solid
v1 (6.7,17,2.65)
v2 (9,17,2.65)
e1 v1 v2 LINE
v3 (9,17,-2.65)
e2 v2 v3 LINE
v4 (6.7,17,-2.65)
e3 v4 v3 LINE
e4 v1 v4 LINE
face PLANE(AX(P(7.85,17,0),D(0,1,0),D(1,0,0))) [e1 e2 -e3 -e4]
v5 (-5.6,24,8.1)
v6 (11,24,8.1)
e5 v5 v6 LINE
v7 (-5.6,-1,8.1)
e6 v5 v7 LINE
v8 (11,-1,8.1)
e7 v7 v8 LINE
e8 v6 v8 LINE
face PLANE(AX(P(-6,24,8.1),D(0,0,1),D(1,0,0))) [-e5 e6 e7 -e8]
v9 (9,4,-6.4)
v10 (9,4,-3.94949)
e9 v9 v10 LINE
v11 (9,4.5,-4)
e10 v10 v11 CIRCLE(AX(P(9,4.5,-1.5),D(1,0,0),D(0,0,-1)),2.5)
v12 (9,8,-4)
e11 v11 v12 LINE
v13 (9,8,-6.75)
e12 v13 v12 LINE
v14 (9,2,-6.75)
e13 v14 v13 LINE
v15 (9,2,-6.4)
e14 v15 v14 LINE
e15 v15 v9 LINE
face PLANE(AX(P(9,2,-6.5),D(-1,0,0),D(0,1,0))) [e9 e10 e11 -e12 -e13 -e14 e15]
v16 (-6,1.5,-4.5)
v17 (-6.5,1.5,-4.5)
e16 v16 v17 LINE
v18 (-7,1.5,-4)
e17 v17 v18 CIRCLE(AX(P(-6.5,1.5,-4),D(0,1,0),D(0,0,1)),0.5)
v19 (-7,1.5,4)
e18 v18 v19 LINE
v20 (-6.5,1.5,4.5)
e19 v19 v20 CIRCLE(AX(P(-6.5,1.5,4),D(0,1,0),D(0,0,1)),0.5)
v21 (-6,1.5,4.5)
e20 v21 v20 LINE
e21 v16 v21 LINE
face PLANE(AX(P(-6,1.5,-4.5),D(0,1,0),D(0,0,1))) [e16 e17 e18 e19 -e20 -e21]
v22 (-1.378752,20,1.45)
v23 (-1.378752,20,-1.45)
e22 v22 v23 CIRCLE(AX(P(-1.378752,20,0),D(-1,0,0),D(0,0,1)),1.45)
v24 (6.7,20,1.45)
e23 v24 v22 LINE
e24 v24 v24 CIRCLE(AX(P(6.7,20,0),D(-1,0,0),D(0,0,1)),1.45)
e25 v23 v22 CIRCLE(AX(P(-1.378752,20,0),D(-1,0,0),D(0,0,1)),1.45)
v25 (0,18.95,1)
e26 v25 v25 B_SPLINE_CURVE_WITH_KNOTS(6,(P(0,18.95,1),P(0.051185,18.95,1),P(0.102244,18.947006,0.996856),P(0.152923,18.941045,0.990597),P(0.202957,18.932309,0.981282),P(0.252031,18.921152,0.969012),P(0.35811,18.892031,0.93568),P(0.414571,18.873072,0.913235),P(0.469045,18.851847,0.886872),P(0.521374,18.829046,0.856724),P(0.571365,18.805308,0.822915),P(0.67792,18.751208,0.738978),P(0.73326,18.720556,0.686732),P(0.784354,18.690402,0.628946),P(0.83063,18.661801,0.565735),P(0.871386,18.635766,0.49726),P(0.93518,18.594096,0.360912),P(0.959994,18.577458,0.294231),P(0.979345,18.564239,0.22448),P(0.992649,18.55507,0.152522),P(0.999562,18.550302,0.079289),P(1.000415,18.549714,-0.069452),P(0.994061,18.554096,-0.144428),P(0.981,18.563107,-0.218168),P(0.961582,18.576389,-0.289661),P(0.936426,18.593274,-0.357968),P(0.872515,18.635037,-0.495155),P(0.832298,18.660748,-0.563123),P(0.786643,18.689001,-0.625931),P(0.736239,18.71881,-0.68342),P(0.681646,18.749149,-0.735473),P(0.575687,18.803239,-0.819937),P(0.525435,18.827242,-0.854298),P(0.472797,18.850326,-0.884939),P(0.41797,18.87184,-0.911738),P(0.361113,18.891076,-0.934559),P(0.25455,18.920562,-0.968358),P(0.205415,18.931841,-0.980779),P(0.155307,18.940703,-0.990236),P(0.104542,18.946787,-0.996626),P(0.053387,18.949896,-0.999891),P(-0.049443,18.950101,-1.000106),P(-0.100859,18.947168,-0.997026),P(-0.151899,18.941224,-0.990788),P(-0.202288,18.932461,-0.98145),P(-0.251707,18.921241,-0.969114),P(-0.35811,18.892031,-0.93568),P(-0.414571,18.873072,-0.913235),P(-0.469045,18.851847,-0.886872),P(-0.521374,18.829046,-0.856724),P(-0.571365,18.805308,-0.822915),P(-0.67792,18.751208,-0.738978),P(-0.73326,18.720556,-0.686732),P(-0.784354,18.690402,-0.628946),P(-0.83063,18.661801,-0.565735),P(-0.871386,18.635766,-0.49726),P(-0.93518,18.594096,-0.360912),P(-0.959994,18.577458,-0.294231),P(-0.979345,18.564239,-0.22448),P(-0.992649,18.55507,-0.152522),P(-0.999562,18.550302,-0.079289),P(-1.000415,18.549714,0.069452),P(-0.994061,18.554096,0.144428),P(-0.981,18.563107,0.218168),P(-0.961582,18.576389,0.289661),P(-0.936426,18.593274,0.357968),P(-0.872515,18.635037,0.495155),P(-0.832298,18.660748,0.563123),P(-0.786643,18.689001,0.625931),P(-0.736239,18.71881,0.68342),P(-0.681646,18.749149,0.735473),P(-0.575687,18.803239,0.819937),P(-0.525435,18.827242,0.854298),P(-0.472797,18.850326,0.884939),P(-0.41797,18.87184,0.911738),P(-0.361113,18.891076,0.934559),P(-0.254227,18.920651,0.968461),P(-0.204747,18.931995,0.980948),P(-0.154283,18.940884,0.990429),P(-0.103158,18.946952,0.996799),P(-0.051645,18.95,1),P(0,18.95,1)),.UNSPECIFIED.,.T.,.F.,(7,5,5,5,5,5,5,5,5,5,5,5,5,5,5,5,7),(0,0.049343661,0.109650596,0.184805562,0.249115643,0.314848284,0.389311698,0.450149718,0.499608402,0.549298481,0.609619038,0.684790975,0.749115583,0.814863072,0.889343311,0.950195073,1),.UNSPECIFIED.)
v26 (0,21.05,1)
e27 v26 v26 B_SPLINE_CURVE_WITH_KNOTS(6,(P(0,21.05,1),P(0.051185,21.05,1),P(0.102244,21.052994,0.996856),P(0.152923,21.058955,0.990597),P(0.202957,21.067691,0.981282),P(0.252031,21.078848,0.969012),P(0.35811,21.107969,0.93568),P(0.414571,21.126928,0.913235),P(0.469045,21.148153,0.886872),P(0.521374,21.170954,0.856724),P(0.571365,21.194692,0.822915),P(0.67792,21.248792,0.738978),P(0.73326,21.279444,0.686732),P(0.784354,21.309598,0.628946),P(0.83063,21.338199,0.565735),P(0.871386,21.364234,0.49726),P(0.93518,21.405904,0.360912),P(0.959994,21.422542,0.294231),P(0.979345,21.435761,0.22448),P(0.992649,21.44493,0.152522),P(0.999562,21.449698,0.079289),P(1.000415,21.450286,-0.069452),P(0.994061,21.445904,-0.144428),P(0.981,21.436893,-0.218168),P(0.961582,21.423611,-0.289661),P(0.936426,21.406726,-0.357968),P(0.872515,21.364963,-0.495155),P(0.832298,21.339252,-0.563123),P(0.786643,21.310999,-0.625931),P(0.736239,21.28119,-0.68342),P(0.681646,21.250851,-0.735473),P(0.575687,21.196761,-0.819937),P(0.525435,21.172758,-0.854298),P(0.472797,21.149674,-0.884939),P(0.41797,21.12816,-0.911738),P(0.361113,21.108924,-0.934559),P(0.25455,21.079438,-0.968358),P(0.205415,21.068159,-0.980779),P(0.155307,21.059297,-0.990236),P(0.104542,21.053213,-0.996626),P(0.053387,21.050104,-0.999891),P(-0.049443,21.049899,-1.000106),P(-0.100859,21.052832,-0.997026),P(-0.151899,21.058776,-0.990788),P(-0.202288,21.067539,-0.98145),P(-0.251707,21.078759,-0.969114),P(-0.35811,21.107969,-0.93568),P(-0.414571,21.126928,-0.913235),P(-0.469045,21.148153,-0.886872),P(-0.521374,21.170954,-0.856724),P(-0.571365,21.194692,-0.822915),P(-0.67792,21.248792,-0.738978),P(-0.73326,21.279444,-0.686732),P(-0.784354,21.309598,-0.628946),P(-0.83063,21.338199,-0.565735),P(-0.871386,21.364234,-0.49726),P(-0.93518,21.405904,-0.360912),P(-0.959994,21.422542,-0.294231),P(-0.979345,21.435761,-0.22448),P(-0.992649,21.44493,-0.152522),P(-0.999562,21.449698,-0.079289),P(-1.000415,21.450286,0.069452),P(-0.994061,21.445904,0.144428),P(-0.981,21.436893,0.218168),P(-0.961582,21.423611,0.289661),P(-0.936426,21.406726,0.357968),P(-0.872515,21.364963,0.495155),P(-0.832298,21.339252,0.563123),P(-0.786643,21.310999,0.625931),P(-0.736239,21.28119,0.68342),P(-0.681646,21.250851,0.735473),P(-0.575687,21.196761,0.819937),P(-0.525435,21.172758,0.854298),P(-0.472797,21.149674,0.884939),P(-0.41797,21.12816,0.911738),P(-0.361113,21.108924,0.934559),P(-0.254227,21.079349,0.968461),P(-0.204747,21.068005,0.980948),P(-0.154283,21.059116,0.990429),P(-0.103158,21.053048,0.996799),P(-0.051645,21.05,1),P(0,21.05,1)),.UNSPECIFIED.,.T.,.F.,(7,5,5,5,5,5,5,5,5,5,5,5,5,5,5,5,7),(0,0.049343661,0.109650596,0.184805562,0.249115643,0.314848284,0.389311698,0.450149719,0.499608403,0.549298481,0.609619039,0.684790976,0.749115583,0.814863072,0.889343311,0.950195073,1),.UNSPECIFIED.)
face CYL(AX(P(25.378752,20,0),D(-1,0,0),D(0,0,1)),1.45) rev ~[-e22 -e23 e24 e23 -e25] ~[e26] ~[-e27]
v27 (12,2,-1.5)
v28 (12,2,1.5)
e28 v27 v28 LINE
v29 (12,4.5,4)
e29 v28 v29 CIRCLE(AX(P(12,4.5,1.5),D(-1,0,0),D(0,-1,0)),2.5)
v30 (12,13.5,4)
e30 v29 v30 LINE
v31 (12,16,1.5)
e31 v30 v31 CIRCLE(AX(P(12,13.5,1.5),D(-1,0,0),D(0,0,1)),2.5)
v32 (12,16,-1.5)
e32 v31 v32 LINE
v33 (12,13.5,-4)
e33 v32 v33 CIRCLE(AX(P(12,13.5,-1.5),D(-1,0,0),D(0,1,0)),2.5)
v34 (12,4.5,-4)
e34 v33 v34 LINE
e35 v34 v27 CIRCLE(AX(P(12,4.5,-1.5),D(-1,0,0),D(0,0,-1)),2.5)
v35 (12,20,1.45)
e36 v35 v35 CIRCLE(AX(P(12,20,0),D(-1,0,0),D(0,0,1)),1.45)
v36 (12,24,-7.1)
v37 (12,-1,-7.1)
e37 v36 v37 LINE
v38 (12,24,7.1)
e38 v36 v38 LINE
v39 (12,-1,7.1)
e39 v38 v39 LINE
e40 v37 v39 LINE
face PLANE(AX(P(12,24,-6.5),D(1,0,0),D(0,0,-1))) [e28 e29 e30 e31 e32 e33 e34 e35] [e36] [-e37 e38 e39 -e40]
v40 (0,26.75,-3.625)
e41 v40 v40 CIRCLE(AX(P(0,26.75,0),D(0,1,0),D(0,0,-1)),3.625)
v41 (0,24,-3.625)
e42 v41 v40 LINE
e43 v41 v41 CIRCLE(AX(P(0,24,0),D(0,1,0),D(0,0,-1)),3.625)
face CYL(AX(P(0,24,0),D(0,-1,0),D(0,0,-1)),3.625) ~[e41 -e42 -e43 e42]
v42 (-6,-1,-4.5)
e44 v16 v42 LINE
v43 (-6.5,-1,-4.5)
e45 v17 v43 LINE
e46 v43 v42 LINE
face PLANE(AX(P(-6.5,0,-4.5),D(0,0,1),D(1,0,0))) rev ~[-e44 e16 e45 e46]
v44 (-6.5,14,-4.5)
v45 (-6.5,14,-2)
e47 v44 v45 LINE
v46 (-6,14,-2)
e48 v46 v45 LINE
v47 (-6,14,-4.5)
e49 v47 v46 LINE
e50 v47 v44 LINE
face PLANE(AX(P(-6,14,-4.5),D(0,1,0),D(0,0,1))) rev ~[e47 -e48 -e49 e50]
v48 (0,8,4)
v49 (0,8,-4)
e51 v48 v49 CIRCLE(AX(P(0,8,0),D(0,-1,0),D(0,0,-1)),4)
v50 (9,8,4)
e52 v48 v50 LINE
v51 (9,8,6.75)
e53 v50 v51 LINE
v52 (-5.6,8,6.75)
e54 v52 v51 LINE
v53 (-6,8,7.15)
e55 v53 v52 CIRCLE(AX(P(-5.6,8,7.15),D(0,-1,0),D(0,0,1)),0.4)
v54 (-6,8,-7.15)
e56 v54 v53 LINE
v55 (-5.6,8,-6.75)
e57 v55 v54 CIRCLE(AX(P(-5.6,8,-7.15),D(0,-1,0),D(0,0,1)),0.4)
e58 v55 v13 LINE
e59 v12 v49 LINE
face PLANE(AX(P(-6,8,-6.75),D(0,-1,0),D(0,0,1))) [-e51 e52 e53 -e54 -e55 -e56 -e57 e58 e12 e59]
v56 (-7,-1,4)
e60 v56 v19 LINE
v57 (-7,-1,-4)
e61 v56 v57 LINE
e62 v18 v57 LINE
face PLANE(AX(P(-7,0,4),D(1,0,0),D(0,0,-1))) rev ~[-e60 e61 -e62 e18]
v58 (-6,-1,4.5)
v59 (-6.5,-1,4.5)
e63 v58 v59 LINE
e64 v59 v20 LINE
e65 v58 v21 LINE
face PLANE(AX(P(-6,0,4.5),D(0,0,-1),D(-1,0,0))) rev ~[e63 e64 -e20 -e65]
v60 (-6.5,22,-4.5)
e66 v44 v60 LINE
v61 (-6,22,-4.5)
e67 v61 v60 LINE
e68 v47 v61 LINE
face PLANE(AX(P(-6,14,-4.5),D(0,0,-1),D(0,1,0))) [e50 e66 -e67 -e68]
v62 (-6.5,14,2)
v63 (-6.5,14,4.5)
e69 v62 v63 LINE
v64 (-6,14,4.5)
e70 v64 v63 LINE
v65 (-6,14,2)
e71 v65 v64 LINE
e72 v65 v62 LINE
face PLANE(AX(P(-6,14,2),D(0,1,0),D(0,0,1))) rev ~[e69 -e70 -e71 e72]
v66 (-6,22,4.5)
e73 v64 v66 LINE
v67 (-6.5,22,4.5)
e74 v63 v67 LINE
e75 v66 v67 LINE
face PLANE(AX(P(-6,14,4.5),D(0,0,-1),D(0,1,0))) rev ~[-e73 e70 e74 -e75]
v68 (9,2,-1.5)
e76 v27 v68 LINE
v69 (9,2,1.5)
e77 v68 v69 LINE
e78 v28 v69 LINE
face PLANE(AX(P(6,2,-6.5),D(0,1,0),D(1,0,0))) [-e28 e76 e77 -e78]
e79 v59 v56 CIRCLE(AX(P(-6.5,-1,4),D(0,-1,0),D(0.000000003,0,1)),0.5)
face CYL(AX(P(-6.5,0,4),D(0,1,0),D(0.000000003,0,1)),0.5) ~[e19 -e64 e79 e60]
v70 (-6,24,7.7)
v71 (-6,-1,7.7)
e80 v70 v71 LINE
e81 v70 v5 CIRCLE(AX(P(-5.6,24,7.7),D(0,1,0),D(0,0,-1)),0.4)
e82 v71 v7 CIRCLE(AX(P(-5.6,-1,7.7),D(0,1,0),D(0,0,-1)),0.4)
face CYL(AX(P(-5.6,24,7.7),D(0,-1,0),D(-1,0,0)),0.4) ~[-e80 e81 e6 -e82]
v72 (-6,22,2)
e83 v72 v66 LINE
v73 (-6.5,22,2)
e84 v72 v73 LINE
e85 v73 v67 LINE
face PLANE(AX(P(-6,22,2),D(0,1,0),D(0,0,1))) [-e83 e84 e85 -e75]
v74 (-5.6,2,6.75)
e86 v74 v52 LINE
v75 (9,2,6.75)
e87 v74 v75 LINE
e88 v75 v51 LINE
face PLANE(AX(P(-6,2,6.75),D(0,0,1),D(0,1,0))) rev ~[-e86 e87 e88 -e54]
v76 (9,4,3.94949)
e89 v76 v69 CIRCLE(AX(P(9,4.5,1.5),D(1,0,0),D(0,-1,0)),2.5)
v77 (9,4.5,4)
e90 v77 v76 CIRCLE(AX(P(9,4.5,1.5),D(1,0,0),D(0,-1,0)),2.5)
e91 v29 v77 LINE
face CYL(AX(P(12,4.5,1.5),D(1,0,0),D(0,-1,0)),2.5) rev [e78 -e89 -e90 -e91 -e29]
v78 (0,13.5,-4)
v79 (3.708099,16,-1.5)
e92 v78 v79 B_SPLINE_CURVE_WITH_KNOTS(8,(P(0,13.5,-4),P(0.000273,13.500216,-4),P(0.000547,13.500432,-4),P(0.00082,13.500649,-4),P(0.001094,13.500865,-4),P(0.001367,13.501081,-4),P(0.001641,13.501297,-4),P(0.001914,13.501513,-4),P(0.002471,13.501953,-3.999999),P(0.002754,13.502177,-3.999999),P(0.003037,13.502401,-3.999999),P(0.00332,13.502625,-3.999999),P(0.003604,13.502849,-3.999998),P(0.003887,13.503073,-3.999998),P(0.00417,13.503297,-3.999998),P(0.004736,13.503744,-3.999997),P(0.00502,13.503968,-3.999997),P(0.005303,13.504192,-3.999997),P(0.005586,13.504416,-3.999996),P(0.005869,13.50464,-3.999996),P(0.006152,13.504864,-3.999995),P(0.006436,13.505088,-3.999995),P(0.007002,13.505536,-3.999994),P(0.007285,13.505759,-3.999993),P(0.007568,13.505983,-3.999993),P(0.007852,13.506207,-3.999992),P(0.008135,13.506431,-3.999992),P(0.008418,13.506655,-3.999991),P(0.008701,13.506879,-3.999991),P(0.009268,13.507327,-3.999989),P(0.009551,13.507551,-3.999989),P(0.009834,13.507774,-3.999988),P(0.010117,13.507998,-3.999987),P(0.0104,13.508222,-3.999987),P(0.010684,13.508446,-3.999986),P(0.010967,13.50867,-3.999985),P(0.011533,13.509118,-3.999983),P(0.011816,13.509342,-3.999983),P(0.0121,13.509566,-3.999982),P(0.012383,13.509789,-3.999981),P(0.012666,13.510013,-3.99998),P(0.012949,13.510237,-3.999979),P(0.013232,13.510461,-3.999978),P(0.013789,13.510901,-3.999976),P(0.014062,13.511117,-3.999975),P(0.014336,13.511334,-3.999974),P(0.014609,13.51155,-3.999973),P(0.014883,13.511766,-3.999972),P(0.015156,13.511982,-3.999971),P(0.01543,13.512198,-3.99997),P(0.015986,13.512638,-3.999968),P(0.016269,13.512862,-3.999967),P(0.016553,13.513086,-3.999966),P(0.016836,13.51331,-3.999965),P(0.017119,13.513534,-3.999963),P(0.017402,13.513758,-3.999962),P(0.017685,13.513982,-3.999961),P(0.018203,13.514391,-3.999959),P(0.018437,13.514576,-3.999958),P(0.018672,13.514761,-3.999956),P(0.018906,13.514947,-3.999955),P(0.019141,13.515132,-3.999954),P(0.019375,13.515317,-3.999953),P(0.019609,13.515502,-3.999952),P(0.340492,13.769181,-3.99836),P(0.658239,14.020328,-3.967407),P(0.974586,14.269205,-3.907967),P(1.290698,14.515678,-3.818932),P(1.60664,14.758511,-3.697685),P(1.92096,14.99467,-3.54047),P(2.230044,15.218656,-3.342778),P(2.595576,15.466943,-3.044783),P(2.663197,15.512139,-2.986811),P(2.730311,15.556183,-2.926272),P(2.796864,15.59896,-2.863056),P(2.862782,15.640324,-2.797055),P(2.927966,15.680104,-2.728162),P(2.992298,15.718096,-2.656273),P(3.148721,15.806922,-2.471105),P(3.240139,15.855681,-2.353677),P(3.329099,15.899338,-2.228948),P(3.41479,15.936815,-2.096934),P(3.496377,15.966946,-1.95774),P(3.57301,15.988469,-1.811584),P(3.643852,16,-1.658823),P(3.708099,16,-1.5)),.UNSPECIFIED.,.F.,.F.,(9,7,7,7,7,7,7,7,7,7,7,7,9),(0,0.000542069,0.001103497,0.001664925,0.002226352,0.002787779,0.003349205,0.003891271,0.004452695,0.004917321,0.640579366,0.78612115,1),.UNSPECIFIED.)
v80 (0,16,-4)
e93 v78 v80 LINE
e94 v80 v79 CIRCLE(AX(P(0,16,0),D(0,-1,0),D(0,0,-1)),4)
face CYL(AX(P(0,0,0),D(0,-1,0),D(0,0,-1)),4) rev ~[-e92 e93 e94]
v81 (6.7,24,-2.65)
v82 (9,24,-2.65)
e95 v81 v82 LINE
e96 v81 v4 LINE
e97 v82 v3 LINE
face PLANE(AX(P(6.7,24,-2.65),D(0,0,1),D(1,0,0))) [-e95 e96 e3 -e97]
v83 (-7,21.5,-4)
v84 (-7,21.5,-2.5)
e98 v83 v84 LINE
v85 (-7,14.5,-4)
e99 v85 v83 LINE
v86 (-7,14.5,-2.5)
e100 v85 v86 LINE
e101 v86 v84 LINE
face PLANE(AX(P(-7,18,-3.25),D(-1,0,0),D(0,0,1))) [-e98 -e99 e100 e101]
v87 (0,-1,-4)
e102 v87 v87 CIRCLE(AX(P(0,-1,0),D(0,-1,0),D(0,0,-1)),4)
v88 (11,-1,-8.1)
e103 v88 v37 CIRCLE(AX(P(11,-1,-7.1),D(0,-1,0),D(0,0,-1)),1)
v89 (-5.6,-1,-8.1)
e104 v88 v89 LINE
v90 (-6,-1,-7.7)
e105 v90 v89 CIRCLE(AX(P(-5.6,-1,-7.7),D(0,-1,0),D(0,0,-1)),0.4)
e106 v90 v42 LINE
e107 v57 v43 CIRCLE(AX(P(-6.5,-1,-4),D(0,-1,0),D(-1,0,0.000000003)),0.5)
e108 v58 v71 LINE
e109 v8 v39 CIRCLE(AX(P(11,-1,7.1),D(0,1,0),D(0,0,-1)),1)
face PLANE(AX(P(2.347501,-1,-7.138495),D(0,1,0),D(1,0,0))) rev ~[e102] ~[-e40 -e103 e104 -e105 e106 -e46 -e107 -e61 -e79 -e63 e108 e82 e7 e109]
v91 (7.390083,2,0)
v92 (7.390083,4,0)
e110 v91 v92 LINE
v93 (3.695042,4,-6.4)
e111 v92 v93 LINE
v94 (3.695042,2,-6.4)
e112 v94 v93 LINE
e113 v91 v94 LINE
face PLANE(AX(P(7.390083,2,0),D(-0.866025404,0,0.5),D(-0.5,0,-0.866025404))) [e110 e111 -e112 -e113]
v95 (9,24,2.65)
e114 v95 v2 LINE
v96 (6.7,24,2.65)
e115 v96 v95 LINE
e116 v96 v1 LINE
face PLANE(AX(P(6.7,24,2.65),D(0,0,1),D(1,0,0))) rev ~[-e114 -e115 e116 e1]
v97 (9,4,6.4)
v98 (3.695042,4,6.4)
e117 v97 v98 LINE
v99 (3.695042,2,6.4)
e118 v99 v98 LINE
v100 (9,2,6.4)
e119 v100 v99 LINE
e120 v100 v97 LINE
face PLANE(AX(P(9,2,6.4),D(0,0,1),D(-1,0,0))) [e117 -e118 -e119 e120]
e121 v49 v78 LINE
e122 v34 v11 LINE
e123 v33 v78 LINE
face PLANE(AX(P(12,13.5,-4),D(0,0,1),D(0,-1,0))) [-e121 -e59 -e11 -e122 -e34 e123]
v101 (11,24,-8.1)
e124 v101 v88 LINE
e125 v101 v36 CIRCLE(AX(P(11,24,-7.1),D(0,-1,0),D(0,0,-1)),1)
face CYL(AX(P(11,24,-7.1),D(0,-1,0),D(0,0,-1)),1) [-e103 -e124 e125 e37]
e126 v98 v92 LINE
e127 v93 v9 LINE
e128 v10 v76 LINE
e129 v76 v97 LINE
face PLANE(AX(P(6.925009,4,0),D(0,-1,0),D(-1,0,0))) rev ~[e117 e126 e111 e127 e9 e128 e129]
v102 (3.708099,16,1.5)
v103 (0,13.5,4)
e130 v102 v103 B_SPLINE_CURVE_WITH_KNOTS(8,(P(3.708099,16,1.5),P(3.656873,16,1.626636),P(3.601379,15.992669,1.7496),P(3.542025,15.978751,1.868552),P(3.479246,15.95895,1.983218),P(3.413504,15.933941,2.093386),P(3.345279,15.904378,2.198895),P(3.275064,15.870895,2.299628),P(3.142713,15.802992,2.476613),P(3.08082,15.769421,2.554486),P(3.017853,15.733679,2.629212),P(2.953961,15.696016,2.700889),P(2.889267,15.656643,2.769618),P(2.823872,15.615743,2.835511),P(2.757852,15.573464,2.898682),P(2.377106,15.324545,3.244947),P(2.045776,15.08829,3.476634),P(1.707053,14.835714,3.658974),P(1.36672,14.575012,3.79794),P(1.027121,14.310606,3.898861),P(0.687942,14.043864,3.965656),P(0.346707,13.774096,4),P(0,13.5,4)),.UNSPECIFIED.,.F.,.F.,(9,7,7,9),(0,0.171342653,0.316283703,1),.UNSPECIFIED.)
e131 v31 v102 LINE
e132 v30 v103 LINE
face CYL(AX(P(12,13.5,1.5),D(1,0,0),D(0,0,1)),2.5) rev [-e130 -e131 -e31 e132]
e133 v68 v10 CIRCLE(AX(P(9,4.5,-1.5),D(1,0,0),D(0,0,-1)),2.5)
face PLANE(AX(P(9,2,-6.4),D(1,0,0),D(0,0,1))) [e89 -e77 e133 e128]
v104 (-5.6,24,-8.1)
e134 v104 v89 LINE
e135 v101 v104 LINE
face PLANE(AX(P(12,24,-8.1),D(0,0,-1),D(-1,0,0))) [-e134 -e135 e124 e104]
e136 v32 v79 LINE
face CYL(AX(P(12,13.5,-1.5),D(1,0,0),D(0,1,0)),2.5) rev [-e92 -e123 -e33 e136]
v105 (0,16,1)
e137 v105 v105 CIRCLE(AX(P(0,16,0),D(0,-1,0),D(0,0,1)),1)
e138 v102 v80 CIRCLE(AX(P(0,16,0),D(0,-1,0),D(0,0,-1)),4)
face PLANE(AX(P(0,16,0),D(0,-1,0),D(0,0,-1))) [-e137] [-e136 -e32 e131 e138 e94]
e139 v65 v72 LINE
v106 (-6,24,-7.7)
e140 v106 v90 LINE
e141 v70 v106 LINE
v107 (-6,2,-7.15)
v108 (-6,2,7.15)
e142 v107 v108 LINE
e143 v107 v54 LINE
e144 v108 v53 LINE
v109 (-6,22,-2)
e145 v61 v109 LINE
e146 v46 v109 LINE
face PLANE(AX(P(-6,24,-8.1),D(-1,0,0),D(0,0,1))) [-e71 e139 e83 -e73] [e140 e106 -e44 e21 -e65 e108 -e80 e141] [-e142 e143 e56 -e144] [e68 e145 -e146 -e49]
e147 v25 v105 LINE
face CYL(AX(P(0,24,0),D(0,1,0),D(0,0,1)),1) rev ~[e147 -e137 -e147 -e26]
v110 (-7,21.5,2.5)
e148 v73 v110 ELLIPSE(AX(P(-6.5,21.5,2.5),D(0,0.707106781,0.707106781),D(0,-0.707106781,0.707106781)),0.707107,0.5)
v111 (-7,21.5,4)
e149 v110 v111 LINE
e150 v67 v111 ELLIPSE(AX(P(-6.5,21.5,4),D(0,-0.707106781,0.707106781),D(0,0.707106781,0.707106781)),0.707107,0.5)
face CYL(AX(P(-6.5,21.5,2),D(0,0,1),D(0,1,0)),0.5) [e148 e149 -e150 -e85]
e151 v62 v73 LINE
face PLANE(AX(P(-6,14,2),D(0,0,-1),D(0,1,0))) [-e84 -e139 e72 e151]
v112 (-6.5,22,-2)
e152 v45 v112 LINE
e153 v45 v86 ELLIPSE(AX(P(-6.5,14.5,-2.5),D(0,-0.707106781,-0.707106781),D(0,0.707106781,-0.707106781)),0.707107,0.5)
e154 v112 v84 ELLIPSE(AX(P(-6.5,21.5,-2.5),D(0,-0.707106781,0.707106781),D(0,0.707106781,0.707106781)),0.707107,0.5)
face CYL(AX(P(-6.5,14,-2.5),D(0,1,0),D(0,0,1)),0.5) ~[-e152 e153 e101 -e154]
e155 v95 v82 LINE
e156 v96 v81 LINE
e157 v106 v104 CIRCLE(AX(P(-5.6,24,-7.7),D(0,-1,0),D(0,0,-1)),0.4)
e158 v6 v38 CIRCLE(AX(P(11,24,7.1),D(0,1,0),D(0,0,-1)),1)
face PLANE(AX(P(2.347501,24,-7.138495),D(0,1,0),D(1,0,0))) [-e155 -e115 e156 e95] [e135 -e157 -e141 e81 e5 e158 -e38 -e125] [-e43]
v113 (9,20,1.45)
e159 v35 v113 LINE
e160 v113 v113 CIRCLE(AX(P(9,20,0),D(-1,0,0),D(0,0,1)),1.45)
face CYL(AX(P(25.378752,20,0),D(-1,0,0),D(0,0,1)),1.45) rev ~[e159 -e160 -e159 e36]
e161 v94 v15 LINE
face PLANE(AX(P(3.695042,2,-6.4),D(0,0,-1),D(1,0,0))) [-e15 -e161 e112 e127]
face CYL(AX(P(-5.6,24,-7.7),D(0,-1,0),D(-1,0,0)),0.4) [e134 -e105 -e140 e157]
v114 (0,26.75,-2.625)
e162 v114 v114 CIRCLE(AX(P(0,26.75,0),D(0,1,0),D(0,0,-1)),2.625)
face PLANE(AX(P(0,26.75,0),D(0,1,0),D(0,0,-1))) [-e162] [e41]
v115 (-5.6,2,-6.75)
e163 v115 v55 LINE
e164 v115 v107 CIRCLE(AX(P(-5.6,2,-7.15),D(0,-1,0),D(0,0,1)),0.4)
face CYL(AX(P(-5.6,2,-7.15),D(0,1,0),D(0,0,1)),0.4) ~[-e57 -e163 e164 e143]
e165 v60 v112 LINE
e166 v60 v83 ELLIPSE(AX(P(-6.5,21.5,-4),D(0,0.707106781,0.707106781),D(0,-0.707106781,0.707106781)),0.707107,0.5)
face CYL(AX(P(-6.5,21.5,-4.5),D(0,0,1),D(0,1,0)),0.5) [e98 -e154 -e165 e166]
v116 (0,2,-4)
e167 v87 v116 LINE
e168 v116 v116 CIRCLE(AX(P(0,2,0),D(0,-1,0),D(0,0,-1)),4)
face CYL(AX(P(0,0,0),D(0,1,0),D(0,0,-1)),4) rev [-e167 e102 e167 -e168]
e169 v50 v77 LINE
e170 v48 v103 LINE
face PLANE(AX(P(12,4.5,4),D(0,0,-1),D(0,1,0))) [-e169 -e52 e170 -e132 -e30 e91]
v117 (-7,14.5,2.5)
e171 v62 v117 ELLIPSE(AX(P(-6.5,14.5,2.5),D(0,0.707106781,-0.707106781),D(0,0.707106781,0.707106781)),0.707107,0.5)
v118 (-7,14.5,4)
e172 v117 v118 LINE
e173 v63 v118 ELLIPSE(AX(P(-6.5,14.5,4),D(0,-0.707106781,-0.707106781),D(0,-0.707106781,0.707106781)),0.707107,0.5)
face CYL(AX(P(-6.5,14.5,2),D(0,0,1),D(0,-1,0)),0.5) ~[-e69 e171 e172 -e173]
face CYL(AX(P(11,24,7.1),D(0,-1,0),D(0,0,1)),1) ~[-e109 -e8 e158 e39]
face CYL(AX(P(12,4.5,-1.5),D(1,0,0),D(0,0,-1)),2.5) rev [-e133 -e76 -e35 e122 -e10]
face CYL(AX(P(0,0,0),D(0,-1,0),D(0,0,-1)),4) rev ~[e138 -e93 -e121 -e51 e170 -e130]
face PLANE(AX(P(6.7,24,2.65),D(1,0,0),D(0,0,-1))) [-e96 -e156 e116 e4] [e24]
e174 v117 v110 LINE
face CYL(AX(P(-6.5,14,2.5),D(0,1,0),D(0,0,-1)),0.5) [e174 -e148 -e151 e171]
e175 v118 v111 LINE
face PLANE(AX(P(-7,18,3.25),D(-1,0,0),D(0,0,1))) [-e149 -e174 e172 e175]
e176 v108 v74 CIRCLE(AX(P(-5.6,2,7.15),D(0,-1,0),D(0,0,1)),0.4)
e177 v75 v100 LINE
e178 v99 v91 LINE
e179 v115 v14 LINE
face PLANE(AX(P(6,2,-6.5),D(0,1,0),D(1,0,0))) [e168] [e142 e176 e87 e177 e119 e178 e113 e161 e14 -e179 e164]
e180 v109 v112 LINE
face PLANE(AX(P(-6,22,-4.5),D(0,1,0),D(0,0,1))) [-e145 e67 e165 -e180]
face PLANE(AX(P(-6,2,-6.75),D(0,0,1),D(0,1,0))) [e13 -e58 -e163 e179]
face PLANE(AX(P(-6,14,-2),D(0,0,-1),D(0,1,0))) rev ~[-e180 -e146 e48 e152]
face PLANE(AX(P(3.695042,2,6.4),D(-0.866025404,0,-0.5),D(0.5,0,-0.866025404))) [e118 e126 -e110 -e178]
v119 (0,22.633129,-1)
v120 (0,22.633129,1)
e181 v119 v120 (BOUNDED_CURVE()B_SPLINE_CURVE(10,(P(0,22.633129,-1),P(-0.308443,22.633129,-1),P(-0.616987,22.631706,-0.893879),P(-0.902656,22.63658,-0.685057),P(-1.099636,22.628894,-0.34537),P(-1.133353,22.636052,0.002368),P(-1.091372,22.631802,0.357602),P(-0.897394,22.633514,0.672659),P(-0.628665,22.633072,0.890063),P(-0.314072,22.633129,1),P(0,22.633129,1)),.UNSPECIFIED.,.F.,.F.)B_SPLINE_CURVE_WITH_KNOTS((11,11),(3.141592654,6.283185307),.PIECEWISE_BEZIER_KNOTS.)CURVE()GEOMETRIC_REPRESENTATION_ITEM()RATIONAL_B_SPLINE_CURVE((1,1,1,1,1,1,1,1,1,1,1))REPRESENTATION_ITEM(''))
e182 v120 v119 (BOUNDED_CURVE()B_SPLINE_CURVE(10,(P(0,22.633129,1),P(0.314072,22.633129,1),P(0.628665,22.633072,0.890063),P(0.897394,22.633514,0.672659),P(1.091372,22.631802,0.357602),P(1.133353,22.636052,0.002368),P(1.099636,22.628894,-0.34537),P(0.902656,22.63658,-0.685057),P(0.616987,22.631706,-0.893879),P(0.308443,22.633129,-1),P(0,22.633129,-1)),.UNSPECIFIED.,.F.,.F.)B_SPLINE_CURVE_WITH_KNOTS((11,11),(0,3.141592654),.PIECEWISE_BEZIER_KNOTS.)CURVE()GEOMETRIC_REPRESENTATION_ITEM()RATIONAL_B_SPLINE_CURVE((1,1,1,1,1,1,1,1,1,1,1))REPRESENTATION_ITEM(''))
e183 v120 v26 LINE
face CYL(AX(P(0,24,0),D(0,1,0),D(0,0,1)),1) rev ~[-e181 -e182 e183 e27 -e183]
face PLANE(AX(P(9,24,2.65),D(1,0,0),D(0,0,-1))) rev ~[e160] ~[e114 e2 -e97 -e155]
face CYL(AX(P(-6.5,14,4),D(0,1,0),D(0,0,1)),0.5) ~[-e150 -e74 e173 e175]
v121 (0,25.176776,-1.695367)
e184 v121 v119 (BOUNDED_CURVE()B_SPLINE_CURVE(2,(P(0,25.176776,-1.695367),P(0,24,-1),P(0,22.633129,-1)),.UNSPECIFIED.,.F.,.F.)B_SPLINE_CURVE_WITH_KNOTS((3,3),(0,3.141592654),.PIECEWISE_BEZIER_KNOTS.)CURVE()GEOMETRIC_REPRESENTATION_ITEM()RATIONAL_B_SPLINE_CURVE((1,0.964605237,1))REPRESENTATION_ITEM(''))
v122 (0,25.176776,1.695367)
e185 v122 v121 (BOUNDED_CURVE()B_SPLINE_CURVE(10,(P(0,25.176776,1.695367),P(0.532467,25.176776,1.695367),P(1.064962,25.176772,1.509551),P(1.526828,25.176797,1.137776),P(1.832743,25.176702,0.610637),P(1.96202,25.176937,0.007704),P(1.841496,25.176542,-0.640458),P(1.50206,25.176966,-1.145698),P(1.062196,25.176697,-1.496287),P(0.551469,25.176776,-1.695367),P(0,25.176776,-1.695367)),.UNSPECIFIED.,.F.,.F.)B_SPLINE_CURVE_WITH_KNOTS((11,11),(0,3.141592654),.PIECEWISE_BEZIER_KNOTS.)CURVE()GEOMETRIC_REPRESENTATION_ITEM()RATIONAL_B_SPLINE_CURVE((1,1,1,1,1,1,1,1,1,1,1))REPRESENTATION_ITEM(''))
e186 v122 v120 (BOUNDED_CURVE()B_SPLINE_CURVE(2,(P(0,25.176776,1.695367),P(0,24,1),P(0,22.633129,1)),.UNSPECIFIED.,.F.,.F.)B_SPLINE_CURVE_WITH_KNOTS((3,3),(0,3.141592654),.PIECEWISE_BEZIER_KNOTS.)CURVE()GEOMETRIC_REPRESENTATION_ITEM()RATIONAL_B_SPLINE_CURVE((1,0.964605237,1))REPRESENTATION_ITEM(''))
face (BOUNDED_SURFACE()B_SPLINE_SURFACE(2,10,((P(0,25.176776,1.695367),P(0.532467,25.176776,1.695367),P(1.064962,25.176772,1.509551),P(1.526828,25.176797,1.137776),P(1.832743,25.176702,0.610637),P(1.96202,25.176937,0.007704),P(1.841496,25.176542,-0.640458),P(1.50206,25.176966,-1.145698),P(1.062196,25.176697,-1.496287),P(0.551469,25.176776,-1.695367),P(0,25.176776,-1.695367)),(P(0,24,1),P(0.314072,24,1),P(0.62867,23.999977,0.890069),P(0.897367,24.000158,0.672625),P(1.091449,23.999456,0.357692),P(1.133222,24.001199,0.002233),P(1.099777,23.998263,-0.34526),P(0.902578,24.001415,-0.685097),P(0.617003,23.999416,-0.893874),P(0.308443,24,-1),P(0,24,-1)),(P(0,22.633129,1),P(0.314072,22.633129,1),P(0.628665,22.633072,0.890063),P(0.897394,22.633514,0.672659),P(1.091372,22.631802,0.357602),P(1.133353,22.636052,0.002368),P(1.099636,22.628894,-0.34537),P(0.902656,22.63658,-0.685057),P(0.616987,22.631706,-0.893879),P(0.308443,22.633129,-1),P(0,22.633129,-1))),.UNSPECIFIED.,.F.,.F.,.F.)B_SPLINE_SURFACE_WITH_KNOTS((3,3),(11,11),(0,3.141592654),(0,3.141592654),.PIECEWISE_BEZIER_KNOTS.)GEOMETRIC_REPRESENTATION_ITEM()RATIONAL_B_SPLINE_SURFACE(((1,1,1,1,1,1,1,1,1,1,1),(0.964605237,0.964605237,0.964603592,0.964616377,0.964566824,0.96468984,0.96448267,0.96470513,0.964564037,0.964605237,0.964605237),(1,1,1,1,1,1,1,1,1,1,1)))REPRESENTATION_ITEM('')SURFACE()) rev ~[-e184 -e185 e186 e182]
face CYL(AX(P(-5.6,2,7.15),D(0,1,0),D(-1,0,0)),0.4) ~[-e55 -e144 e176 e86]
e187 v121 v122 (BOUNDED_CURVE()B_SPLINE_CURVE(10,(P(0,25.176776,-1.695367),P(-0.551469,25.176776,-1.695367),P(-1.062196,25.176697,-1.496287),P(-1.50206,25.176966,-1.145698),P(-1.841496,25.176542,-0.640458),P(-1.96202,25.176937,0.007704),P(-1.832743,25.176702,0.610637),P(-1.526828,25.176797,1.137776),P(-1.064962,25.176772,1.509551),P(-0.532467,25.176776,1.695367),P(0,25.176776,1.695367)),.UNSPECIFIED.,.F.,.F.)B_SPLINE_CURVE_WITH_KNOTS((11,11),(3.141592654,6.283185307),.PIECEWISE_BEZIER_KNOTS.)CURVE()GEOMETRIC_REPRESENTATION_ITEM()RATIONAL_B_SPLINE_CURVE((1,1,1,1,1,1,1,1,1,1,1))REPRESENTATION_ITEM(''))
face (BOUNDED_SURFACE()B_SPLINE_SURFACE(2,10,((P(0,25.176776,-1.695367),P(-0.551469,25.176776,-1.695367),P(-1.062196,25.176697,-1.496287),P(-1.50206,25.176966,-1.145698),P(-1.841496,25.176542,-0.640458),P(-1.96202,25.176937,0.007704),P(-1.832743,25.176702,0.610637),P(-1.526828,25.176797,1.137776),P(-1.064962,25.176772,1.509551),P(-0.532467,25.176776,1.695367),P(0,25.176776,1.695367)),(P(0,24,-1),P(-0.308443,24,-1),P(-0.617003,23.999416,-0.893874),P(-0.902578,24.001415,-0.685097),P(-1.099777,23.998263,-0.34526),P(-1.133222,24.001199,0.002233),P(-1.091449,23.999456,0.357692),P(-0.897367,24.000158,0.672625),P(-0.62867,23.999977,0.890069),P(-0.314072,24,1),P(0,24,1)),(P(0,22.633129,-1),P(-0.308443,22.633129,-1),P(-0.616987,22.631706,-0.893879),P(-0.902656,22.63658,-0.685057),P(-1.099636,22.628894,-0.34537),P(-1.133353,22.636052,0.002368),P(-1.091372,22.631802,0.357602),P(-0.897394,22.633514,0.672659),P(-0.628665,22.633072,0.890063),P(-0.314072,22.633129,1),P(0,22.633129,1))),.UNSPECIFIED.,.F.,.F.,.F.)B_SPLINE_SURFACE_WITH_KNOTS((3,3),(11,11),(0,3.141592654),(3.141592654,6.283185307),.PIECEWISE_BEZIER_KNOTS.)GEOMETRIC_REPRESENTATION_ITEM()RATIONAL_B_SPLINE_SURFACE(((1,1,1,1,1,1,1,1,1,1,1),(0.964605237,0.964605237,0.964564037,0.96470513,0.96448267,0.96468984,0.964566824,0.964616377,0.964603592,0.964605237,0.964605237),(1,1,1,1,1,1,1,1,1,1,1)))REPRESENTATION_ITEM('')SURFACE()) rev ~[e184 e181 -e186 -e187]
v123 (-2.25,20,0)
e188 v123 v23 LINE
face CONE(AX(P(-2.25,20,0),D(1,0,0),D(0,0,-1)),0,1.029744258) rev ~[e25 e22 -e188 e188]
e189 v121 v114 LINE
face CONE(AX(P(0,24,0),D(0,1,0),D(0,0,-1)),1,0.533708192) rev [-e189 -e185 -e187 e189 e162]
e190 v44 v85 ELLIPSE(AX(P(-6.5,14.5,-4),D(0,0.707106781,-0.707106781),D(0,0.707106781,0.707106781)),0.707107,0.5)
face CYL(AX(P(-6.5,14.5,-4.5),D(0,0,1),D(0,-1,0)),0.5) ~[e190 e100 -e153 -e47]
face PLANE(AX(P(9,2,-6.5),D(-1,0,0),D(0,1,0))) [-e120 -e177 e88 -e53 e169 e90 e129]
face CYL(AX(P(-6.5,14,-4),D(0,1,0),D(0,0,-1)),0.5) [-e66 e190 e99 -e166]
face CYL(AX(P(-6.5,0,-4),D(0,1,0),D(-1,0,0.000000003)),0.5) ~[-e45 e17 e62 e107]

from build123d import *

# Parameters (mm, degrees)
SKETCH1_W                  = 12
SKETCH1_H                  = 13
BOSS_EXTRUDE1_DEPTH        = 19
SKETCH2_R                  = 4
CUT_EXTRUDE1_DEPTH         = 16
CUT_EXTRUDE2_START         = -2
SKETCH3_W                  = 12
SKETCH3_H                  = 13
CUT_EXTRUDE2_DEPTH         = 6
SKETCH5_W                  = 12
SKETCH5_H                  = 13
BOSS_EXTRUDE2_DEPTH        = 5
FILLET1_R                  = 2
FILLET4_R                  = 2
SKETCH21_W                 = 2.5
SKETCH21_H                 = 8
SKETCH21_W_2               = 9
SKETCH21_H_2               = 1.5
BOSS_EXTRUDE4_DEPTH        = 1
FILLET3_R                  = 0.5
FILLET7_R                  = 0.5
FILLET5_R                  = 0.5
SKETCH23_R                 = 4
BOSS_EXTRUDE5_DEPTH        = 1
BOSS_EXTRUDE6_DEPTH        = 13
BOSS_EXTRUDE7_DEPTH        = 25
SKETCH11_W                 = 2.3
SKETCH11_H                 = 5.3
CUT_EXTRUDE4_DEPTH         = 7
SKETCH34_W                 = 13.5
SKETCH34_H                 = 6
CUT_EXTRUDE5_DEPTH         = 15
M2_5_CLEARANCE_HOLE1_D     = 2.9
M2_5_CLEARANCE_HOLE1_DEPTH = 13.378752102
M2_5_CLEARANCE_HOLE1_TIP   = 0.871247898
FILLET8_R                  = 0.4
SKETCH31_R                 = 3.625
SKETCH31_R_2               = 2.625
BOSS_EXTRUDE8_DEPTH        = 2.75
FILLET9_R                  = 1
SKETCH9_R                  = 1
CUT_EXTRUDE6_DEPTH         = 29.889617512
CUT_EXTRUDE8_DEPTH         = 12
FILLET10_R                 = 5
BOSS_EXTRUDE9_DEPTH        = 2


with BuildPart() as part:
    # Sketch1 → Boss-Extrude1 (new body)
    with BuildSketch(Plane(origin=(0, 0, 0), x_dir=(1, 0, 0), z_dir=(0, 1, 0))):
        Rectangle(SKETCH1_W, SKETCH1_H)
    extrude(amount=BOSS_EXTRUDE1_DEPTH)

    # Sketch2 → Cut-Extrude1 (cut)
    with BuildSketch(Plane.XZ):
        with Locations(Location((0, 0, 0), (0, 0, 270))):
            Circle(SKETCH2_R)
    extrude(amount=-CUT_EXTRUDE1_DEPTH, mode=Mode.SUBTRACT)

    # Sketch3 → Cut-Extrude2 (cut)
    with BuildSketch(Plane.XZ.offset(CUT_EXTRUDE2_START)):
        Rectangle(SKETCH3_W, SKETCH3_H)
    extrude(amount=-CUT_EXTRUDE2_DEPTH, mode=Mode.SUBTRACT)


with BuildPart() as cut_extrude2_piece_1:
    # of the separate pieces the step leaves, piece 1, a body of its own (cut_extrude2_pieces)
    add(part.part.solids().sort_by_distance((-6, 8, 6.5))[0])

    # Sketch5 → Boss-Extrude2 (add)
    with BuildSketch(Plane(origin=(0, 19, 0), x_dir=(1, 0, 0), z_dir=(0, 1, 0))):
        Rectangle(SKETCH5_W, SKETCH5_H)
    extrude(amount=BOSS_EXTRUDE2_DEPTH)

    # Fillet1
    fillet1_edges = [cut_extrude2_piece_1.edges().sort_by_distance(p)[0] for p in [
        (-6, 16, -6.5),
        (-6, 16, 6.5),
    ]]
    fillet(fillet1_edges, radius=FILLET1_R)



with BuildPart() as cut_extrude2_piece_2:
    # of the separate pieces the step leaves, piece 2, a body of its own (cut_extrude2_pieces)
    add(part.part.solids().sort_by_distance((-6, 0, 6.5))[0])

    # Fillet4
    fillet4_edges = [cut_extrude2_piece_2.edges().sort_by_distance(p)[0] for p in [
        (-6, 1, 6.5),
        (-6, 1, -6.5),
    ]]
    fillet(fillet4_edges, radius=FILLET4_R)

    # Sketch21 → Boss-Extrude4 (add)
    with BuildSketch(Plane.ZY.offset(6)):
        with Locations((-3.25, 18)):
            Rectangle(SKETCH21_W, SKETCH21_H)
        with Locations((3.25, 18)):
            Rectangle(SKETCH21_W, SKETCH21_H)
        with Locations((0, 0.75)):
            Rectangle(SKETCH21_W_2, SKETCH21_H_2)
    extrude(amount=BOSS_EXTRUDE4_DEPTH)


with BuildPart() as boss_extrude4_piece_1:
    # of the separate pieces the step leaves, piece 1, a body of its own (boss_extrude4_pieces)
    add(cut_extrude2_piece_2.part.solids().sort_by_distance((-4, 0, 6.5))[0])

    # Fillet5
    fillet5_edges = [boss_extrude4_piece_1.edges().sort_by_distance(p)[0] for p in [
        (-7, 0.75, -4.5),
        (-7, 0.75, 4.5),
    ]]
    fillet(fillet5_edges, radius=FILLET5_R)

    # Sketch23 → Boss-Extrude5 (add)
    with BuildSketch(Plane.XZ):
        with BuildLine():
            Line((-7, 4), (-7, -4))
            ThreePointArc((-7, -4), (-6.853553391, -4.353553391), (-6.5, -4.5))
            Line((-6.5, -4.5), (-6, -4.5))
            ThreePointArc((-6, -4.5), (-5.414213562, -5.914213562), (-4, -6.5))
            Line((-4, -6.5), (6, -6.5))
            Line((6, -6.5), (6, 6.5))
            Line((6, 6.5), (-4, 6.5))
            ThreePointArc((-4, 6.5), (-5.414213562, 5.914213562), (-6, 4.5))
            Line((-6, 4.5), (-6.5, 4.5))
            ThreePointArc((-6.5, 4.5), (-6.853553391, 4.353553391), (-7, 4))
        make_face()
        with Locations(Location((0, 0, 0), (0, 0, 270))):
            Circle(SKETCH23_R, mode=Mode.SUBTRACT)
    extrude(amount=BOSS_EXTRUDE5_DEPTH)


with BuildPart() as boss_extrude4_piece_2:
    # of the separate pieces the step leaves, piece 2, a body of its own (boss_extrude4_pieces)
    add(cut_extrude2_piece_2.part.solids().sort_by_distance((-6, 22, -4.5))[0])

    # Fillet7
    fillet7_edges = [boss_extrude4_piece_2.edges().sort_by_distance(p)[0] for p in [
        (-7, 18, -2),
        (-7, 22, -3.25),
        (-7, 18, -4.5),
        (-7, 14, -3.25),
    ]]
    fillet(fillet7_edges, radius=FILLET7_R)


with BuildPart() as boss_extrude4_piece_3:
    # of the separate pieces the step leaves, piece 3, a body of its own (boss_extrude4_pieces)
    add(cut_extrude2_piece_2.part.solids().sort_by_distance((-6, 22, 2))[0])

    # Fillet3
    fillet3_edges = [boss_extrude4_piece_3.edges().sort_by_distance(p)[0] for p in [
        (-7, 22, 3.25),
        (-7, 18, 2),
        (-7, 14, 3.25),
        (-7, 18, 4.5),
    ]]
    fillet(fillet3_edges, radius=FILLET3_R)


with BuildPart() as cut_extrude2_piece_1_1:
    add(cut_extrude2_piece_1.part)

    add(boss_extrude4_piece_1.part)  # Boss-Extrude6 merges Boss-Extrude4 piece 1
    # Sketch26 → Boss-Extrude6 (add, through all)
    with BuildSketch(Plane(origin=(0, 0, -6.5), x_dir=(-1, 0, 0), z_dir=(0, 0, -1))):
        Polygon((-6, 24), (-12, 24), (-12, -1), (-6, -1), (-6, 2), (-9, 2), (-9, 8), (-6, 8), align=None)
    extrude(amount=-BOSS_EXTRUDE6_DEPTH)


    add(boss_extrude4_piece_2.part)  # Boss-Extrude7 merges Boss-Extrude4 piece 2

    add(boss_extrude4_piece_3.part)  # Boss-Extrude7 merges Boss-Extrude4 piece 3
    # Sketch30 → Boss-Extrude7 (add, through all)
    with BuildSketch(Plane(origin=(0, 24, 0), x_dir=(1, 0, 0), z_dir=(0, 1, 0))):
        with BuildLine():
            ThreePointArc((-6, 4.5), (-5.414213562, 5.914213562), (-4, 6.5))
            Line((-4, 6.5), (12, 6.5))
            Line((12, 6.5), (12, 8.1))
            Line((12, 8.1), (-6, 8.1))
            Line((-6, 8.1), (-6, 4.5))
        make_face()
        with BuildLine():
            Line((12, -6.5), (-4, -6.5))
            ThreePointArc((-4, -6.5), (-5.414213562, -5.914213562), (-6, -4.5))
            Line((-6, -4.5), (-6, -8.1))
            Line((-6, -8.1), (12, -8.1))
            Line((12, -8.1), (12, -6.5))
        make_face()
    extrude(amount=-BOSS_EXTRUDE7_DEPTH)

    # Sketch11 → Cut-Extrude4 (cut)
    with BuildSketch(Plane(origin=(0, 24, 0), x_dir=(1, 0, 0), z_dir=(0, 1, 0))):
        with Locations((7.85, 0)):
            Rectangle(SKETCH11_W, SKETCH11_H)
    extrude(amount=-CUT_EXTRUDE4_DEPTH, mode=Mode.SUBTRACT)

    # Sketch34 → Cut-Extrude5 (cut)
    with BuildSketch(Plane.ZY.offset(6)):
        with Locations((0, 5)):
            Rectangle(SKETCH34_W, SKETCH34_H)
    extrude(amount=-CUT_EXTRUDE5_DEPTH, mode=Mode.SUBTRACT)

    # M2.5 Clearance Hole1
    with Locations(Plane(origin=(12, 0, 0), x_dir=(0, 0, -1), z_dir=(1, 0, 0))):
        with Locations((0, 20)):
            Hole(M2_5_CLEARANCE_HOLE1_D / 2, depth=M2_5_CLEARANCE_HOLE1_DEPTH)
            with Locations((0, 0, -(M2_5_CLEARANCE_HOLE1_DEPTH + M2_5_CLEARANCE_HOLE1_TIP / 2))):  # 118° drill point
                Cone(0, M2_5_CLEARANCE_HOLE1_D / 2, M2_5_CLEARANCE_HOLE1_TIP, mode=Mode.SUBTRACT)

    # Fillet8
    fillet8_edges = [cut_extrude2_piece_1_1.edges().sort_by_distance(p)[0] for p in [
        (-6, 11.5, 8.1),
        (-6, 5, 6.75),
        (-6, 5, -6.75),
        (-6, 11.5, -8.1),
    ]]
    fillet(fillet8_edges, radius=FILLET8_R)

    # Sketch31 → Boss-Extrude8 (add)
    with BuildSketch(Plane(origin=(0, 24, 0), x_dir=(1, 0, 0), z_dir=(0, 1, 0))):
        with Locations(Location((0, 0, 0), (0, 0, 90))):
            Circle(SKETCH31_R)
        with Locations(Location((0, 0, 0), (0, 0, 270))):
            Circle(SKETCH31_R_2, mode=Mode.SUBTRACT)
    extrude(amount=BOSS_EXTRUDE8_DEPTH)

    # Fillet9
    fillet9_edges = [cut_extrude2_piece_1_1.edges().sort_by_distance(p)[0] for p in [
        (12, 11.5, 8.1),
        (12, 11.5, -8.1),
    ]]
    fillet(fillet9_edges, radius=FILLET9_R)

    # Sketch9 → Cut-Extrude6 (cut, through all)
    with BuildSketch(Plane(origin=(0, 24, 0), x_dir=(1, 0, 0), z_dir=(0, 1, 0))):
        with Locations(Location((0, 0, 0), (0, 0, 270))):
            Circle(SKETCH9_R)
    extrude(amount=-CUT_EXTRUDE6_DEPTH, mode=Mode.SUBTRACT)

    # Sketch42 → Cut-Extrude8 (cut)
    with BuildSketch(Plane(origin=(12, 0, 0), x_dir=(0, 0, -1), z_dir=(1, 0, 0))):
        with BuildLine():
            Line((-1.5, 16), (1.5, 16))
            ThreePointArc((1.5, 16), (3.267766953, 15.267766953), (4, 13.5))
            Line((4, 13.5), (4, 4.5))
            ThreePointArc((4, 4.5), (3.267766953, 2.732233047), (1.5, 2))
            Line((1.5, 2), (-1.5, 2))
            ThreePointArc((-1.5, 2), (-3.267766953, 2.732233047), (-4, 4.5))
            Line((-4, 4.5), (-4, 13.5))
            ThreePointArc((-4, 13.5), (-3.267766953, 15.267766953), (-1.5, 16))
        make_face()
    extrude(amount=-CUT_EXTRUDE8_DEPTH, mode=Mode.SUBTRACT)

    # Sketch43 → Revolve1 (revolve)
    with BuildSketch(Plane.XY, mode=Mode.PRIVATE) as revolve1_sk:
        Polygon((1, 24), (2.625, 26.75), (2.625, 24), align=None)
    revolve(revolve1_sk.sketch.rotate(Axis((0, 28.9875, 0), (0, -1, 0)), 270), axis=Axis((0, 28.9875, 0), (0, -1, 0)))

    # Fillet10
    fillet10_edges = [cut_extrude2_piece_1_1.edges().sort_by_distance(p)[0] for p in [
        (1, 24, 0),
    ]]
    fillet(fillet10_edges, radius=FILLET10_R)

    # Sketch45 → Boss-Extrude9 (add)
    with BuildSketch(Plane(origin=(0, 2, 0), x_dir=(1, 0, 0), z_dir=(0, 1, 0))):
        Polygon((3.695041723, -6.4), (7.390083446, 0), (3.695041723, 6.4), (9, 6.4), (9, -6.4), align=None)
    extrude(amount=BOSS_EXTRUDE9_DEPTH)


solid = cut_extrude2_piece_1_1.part
